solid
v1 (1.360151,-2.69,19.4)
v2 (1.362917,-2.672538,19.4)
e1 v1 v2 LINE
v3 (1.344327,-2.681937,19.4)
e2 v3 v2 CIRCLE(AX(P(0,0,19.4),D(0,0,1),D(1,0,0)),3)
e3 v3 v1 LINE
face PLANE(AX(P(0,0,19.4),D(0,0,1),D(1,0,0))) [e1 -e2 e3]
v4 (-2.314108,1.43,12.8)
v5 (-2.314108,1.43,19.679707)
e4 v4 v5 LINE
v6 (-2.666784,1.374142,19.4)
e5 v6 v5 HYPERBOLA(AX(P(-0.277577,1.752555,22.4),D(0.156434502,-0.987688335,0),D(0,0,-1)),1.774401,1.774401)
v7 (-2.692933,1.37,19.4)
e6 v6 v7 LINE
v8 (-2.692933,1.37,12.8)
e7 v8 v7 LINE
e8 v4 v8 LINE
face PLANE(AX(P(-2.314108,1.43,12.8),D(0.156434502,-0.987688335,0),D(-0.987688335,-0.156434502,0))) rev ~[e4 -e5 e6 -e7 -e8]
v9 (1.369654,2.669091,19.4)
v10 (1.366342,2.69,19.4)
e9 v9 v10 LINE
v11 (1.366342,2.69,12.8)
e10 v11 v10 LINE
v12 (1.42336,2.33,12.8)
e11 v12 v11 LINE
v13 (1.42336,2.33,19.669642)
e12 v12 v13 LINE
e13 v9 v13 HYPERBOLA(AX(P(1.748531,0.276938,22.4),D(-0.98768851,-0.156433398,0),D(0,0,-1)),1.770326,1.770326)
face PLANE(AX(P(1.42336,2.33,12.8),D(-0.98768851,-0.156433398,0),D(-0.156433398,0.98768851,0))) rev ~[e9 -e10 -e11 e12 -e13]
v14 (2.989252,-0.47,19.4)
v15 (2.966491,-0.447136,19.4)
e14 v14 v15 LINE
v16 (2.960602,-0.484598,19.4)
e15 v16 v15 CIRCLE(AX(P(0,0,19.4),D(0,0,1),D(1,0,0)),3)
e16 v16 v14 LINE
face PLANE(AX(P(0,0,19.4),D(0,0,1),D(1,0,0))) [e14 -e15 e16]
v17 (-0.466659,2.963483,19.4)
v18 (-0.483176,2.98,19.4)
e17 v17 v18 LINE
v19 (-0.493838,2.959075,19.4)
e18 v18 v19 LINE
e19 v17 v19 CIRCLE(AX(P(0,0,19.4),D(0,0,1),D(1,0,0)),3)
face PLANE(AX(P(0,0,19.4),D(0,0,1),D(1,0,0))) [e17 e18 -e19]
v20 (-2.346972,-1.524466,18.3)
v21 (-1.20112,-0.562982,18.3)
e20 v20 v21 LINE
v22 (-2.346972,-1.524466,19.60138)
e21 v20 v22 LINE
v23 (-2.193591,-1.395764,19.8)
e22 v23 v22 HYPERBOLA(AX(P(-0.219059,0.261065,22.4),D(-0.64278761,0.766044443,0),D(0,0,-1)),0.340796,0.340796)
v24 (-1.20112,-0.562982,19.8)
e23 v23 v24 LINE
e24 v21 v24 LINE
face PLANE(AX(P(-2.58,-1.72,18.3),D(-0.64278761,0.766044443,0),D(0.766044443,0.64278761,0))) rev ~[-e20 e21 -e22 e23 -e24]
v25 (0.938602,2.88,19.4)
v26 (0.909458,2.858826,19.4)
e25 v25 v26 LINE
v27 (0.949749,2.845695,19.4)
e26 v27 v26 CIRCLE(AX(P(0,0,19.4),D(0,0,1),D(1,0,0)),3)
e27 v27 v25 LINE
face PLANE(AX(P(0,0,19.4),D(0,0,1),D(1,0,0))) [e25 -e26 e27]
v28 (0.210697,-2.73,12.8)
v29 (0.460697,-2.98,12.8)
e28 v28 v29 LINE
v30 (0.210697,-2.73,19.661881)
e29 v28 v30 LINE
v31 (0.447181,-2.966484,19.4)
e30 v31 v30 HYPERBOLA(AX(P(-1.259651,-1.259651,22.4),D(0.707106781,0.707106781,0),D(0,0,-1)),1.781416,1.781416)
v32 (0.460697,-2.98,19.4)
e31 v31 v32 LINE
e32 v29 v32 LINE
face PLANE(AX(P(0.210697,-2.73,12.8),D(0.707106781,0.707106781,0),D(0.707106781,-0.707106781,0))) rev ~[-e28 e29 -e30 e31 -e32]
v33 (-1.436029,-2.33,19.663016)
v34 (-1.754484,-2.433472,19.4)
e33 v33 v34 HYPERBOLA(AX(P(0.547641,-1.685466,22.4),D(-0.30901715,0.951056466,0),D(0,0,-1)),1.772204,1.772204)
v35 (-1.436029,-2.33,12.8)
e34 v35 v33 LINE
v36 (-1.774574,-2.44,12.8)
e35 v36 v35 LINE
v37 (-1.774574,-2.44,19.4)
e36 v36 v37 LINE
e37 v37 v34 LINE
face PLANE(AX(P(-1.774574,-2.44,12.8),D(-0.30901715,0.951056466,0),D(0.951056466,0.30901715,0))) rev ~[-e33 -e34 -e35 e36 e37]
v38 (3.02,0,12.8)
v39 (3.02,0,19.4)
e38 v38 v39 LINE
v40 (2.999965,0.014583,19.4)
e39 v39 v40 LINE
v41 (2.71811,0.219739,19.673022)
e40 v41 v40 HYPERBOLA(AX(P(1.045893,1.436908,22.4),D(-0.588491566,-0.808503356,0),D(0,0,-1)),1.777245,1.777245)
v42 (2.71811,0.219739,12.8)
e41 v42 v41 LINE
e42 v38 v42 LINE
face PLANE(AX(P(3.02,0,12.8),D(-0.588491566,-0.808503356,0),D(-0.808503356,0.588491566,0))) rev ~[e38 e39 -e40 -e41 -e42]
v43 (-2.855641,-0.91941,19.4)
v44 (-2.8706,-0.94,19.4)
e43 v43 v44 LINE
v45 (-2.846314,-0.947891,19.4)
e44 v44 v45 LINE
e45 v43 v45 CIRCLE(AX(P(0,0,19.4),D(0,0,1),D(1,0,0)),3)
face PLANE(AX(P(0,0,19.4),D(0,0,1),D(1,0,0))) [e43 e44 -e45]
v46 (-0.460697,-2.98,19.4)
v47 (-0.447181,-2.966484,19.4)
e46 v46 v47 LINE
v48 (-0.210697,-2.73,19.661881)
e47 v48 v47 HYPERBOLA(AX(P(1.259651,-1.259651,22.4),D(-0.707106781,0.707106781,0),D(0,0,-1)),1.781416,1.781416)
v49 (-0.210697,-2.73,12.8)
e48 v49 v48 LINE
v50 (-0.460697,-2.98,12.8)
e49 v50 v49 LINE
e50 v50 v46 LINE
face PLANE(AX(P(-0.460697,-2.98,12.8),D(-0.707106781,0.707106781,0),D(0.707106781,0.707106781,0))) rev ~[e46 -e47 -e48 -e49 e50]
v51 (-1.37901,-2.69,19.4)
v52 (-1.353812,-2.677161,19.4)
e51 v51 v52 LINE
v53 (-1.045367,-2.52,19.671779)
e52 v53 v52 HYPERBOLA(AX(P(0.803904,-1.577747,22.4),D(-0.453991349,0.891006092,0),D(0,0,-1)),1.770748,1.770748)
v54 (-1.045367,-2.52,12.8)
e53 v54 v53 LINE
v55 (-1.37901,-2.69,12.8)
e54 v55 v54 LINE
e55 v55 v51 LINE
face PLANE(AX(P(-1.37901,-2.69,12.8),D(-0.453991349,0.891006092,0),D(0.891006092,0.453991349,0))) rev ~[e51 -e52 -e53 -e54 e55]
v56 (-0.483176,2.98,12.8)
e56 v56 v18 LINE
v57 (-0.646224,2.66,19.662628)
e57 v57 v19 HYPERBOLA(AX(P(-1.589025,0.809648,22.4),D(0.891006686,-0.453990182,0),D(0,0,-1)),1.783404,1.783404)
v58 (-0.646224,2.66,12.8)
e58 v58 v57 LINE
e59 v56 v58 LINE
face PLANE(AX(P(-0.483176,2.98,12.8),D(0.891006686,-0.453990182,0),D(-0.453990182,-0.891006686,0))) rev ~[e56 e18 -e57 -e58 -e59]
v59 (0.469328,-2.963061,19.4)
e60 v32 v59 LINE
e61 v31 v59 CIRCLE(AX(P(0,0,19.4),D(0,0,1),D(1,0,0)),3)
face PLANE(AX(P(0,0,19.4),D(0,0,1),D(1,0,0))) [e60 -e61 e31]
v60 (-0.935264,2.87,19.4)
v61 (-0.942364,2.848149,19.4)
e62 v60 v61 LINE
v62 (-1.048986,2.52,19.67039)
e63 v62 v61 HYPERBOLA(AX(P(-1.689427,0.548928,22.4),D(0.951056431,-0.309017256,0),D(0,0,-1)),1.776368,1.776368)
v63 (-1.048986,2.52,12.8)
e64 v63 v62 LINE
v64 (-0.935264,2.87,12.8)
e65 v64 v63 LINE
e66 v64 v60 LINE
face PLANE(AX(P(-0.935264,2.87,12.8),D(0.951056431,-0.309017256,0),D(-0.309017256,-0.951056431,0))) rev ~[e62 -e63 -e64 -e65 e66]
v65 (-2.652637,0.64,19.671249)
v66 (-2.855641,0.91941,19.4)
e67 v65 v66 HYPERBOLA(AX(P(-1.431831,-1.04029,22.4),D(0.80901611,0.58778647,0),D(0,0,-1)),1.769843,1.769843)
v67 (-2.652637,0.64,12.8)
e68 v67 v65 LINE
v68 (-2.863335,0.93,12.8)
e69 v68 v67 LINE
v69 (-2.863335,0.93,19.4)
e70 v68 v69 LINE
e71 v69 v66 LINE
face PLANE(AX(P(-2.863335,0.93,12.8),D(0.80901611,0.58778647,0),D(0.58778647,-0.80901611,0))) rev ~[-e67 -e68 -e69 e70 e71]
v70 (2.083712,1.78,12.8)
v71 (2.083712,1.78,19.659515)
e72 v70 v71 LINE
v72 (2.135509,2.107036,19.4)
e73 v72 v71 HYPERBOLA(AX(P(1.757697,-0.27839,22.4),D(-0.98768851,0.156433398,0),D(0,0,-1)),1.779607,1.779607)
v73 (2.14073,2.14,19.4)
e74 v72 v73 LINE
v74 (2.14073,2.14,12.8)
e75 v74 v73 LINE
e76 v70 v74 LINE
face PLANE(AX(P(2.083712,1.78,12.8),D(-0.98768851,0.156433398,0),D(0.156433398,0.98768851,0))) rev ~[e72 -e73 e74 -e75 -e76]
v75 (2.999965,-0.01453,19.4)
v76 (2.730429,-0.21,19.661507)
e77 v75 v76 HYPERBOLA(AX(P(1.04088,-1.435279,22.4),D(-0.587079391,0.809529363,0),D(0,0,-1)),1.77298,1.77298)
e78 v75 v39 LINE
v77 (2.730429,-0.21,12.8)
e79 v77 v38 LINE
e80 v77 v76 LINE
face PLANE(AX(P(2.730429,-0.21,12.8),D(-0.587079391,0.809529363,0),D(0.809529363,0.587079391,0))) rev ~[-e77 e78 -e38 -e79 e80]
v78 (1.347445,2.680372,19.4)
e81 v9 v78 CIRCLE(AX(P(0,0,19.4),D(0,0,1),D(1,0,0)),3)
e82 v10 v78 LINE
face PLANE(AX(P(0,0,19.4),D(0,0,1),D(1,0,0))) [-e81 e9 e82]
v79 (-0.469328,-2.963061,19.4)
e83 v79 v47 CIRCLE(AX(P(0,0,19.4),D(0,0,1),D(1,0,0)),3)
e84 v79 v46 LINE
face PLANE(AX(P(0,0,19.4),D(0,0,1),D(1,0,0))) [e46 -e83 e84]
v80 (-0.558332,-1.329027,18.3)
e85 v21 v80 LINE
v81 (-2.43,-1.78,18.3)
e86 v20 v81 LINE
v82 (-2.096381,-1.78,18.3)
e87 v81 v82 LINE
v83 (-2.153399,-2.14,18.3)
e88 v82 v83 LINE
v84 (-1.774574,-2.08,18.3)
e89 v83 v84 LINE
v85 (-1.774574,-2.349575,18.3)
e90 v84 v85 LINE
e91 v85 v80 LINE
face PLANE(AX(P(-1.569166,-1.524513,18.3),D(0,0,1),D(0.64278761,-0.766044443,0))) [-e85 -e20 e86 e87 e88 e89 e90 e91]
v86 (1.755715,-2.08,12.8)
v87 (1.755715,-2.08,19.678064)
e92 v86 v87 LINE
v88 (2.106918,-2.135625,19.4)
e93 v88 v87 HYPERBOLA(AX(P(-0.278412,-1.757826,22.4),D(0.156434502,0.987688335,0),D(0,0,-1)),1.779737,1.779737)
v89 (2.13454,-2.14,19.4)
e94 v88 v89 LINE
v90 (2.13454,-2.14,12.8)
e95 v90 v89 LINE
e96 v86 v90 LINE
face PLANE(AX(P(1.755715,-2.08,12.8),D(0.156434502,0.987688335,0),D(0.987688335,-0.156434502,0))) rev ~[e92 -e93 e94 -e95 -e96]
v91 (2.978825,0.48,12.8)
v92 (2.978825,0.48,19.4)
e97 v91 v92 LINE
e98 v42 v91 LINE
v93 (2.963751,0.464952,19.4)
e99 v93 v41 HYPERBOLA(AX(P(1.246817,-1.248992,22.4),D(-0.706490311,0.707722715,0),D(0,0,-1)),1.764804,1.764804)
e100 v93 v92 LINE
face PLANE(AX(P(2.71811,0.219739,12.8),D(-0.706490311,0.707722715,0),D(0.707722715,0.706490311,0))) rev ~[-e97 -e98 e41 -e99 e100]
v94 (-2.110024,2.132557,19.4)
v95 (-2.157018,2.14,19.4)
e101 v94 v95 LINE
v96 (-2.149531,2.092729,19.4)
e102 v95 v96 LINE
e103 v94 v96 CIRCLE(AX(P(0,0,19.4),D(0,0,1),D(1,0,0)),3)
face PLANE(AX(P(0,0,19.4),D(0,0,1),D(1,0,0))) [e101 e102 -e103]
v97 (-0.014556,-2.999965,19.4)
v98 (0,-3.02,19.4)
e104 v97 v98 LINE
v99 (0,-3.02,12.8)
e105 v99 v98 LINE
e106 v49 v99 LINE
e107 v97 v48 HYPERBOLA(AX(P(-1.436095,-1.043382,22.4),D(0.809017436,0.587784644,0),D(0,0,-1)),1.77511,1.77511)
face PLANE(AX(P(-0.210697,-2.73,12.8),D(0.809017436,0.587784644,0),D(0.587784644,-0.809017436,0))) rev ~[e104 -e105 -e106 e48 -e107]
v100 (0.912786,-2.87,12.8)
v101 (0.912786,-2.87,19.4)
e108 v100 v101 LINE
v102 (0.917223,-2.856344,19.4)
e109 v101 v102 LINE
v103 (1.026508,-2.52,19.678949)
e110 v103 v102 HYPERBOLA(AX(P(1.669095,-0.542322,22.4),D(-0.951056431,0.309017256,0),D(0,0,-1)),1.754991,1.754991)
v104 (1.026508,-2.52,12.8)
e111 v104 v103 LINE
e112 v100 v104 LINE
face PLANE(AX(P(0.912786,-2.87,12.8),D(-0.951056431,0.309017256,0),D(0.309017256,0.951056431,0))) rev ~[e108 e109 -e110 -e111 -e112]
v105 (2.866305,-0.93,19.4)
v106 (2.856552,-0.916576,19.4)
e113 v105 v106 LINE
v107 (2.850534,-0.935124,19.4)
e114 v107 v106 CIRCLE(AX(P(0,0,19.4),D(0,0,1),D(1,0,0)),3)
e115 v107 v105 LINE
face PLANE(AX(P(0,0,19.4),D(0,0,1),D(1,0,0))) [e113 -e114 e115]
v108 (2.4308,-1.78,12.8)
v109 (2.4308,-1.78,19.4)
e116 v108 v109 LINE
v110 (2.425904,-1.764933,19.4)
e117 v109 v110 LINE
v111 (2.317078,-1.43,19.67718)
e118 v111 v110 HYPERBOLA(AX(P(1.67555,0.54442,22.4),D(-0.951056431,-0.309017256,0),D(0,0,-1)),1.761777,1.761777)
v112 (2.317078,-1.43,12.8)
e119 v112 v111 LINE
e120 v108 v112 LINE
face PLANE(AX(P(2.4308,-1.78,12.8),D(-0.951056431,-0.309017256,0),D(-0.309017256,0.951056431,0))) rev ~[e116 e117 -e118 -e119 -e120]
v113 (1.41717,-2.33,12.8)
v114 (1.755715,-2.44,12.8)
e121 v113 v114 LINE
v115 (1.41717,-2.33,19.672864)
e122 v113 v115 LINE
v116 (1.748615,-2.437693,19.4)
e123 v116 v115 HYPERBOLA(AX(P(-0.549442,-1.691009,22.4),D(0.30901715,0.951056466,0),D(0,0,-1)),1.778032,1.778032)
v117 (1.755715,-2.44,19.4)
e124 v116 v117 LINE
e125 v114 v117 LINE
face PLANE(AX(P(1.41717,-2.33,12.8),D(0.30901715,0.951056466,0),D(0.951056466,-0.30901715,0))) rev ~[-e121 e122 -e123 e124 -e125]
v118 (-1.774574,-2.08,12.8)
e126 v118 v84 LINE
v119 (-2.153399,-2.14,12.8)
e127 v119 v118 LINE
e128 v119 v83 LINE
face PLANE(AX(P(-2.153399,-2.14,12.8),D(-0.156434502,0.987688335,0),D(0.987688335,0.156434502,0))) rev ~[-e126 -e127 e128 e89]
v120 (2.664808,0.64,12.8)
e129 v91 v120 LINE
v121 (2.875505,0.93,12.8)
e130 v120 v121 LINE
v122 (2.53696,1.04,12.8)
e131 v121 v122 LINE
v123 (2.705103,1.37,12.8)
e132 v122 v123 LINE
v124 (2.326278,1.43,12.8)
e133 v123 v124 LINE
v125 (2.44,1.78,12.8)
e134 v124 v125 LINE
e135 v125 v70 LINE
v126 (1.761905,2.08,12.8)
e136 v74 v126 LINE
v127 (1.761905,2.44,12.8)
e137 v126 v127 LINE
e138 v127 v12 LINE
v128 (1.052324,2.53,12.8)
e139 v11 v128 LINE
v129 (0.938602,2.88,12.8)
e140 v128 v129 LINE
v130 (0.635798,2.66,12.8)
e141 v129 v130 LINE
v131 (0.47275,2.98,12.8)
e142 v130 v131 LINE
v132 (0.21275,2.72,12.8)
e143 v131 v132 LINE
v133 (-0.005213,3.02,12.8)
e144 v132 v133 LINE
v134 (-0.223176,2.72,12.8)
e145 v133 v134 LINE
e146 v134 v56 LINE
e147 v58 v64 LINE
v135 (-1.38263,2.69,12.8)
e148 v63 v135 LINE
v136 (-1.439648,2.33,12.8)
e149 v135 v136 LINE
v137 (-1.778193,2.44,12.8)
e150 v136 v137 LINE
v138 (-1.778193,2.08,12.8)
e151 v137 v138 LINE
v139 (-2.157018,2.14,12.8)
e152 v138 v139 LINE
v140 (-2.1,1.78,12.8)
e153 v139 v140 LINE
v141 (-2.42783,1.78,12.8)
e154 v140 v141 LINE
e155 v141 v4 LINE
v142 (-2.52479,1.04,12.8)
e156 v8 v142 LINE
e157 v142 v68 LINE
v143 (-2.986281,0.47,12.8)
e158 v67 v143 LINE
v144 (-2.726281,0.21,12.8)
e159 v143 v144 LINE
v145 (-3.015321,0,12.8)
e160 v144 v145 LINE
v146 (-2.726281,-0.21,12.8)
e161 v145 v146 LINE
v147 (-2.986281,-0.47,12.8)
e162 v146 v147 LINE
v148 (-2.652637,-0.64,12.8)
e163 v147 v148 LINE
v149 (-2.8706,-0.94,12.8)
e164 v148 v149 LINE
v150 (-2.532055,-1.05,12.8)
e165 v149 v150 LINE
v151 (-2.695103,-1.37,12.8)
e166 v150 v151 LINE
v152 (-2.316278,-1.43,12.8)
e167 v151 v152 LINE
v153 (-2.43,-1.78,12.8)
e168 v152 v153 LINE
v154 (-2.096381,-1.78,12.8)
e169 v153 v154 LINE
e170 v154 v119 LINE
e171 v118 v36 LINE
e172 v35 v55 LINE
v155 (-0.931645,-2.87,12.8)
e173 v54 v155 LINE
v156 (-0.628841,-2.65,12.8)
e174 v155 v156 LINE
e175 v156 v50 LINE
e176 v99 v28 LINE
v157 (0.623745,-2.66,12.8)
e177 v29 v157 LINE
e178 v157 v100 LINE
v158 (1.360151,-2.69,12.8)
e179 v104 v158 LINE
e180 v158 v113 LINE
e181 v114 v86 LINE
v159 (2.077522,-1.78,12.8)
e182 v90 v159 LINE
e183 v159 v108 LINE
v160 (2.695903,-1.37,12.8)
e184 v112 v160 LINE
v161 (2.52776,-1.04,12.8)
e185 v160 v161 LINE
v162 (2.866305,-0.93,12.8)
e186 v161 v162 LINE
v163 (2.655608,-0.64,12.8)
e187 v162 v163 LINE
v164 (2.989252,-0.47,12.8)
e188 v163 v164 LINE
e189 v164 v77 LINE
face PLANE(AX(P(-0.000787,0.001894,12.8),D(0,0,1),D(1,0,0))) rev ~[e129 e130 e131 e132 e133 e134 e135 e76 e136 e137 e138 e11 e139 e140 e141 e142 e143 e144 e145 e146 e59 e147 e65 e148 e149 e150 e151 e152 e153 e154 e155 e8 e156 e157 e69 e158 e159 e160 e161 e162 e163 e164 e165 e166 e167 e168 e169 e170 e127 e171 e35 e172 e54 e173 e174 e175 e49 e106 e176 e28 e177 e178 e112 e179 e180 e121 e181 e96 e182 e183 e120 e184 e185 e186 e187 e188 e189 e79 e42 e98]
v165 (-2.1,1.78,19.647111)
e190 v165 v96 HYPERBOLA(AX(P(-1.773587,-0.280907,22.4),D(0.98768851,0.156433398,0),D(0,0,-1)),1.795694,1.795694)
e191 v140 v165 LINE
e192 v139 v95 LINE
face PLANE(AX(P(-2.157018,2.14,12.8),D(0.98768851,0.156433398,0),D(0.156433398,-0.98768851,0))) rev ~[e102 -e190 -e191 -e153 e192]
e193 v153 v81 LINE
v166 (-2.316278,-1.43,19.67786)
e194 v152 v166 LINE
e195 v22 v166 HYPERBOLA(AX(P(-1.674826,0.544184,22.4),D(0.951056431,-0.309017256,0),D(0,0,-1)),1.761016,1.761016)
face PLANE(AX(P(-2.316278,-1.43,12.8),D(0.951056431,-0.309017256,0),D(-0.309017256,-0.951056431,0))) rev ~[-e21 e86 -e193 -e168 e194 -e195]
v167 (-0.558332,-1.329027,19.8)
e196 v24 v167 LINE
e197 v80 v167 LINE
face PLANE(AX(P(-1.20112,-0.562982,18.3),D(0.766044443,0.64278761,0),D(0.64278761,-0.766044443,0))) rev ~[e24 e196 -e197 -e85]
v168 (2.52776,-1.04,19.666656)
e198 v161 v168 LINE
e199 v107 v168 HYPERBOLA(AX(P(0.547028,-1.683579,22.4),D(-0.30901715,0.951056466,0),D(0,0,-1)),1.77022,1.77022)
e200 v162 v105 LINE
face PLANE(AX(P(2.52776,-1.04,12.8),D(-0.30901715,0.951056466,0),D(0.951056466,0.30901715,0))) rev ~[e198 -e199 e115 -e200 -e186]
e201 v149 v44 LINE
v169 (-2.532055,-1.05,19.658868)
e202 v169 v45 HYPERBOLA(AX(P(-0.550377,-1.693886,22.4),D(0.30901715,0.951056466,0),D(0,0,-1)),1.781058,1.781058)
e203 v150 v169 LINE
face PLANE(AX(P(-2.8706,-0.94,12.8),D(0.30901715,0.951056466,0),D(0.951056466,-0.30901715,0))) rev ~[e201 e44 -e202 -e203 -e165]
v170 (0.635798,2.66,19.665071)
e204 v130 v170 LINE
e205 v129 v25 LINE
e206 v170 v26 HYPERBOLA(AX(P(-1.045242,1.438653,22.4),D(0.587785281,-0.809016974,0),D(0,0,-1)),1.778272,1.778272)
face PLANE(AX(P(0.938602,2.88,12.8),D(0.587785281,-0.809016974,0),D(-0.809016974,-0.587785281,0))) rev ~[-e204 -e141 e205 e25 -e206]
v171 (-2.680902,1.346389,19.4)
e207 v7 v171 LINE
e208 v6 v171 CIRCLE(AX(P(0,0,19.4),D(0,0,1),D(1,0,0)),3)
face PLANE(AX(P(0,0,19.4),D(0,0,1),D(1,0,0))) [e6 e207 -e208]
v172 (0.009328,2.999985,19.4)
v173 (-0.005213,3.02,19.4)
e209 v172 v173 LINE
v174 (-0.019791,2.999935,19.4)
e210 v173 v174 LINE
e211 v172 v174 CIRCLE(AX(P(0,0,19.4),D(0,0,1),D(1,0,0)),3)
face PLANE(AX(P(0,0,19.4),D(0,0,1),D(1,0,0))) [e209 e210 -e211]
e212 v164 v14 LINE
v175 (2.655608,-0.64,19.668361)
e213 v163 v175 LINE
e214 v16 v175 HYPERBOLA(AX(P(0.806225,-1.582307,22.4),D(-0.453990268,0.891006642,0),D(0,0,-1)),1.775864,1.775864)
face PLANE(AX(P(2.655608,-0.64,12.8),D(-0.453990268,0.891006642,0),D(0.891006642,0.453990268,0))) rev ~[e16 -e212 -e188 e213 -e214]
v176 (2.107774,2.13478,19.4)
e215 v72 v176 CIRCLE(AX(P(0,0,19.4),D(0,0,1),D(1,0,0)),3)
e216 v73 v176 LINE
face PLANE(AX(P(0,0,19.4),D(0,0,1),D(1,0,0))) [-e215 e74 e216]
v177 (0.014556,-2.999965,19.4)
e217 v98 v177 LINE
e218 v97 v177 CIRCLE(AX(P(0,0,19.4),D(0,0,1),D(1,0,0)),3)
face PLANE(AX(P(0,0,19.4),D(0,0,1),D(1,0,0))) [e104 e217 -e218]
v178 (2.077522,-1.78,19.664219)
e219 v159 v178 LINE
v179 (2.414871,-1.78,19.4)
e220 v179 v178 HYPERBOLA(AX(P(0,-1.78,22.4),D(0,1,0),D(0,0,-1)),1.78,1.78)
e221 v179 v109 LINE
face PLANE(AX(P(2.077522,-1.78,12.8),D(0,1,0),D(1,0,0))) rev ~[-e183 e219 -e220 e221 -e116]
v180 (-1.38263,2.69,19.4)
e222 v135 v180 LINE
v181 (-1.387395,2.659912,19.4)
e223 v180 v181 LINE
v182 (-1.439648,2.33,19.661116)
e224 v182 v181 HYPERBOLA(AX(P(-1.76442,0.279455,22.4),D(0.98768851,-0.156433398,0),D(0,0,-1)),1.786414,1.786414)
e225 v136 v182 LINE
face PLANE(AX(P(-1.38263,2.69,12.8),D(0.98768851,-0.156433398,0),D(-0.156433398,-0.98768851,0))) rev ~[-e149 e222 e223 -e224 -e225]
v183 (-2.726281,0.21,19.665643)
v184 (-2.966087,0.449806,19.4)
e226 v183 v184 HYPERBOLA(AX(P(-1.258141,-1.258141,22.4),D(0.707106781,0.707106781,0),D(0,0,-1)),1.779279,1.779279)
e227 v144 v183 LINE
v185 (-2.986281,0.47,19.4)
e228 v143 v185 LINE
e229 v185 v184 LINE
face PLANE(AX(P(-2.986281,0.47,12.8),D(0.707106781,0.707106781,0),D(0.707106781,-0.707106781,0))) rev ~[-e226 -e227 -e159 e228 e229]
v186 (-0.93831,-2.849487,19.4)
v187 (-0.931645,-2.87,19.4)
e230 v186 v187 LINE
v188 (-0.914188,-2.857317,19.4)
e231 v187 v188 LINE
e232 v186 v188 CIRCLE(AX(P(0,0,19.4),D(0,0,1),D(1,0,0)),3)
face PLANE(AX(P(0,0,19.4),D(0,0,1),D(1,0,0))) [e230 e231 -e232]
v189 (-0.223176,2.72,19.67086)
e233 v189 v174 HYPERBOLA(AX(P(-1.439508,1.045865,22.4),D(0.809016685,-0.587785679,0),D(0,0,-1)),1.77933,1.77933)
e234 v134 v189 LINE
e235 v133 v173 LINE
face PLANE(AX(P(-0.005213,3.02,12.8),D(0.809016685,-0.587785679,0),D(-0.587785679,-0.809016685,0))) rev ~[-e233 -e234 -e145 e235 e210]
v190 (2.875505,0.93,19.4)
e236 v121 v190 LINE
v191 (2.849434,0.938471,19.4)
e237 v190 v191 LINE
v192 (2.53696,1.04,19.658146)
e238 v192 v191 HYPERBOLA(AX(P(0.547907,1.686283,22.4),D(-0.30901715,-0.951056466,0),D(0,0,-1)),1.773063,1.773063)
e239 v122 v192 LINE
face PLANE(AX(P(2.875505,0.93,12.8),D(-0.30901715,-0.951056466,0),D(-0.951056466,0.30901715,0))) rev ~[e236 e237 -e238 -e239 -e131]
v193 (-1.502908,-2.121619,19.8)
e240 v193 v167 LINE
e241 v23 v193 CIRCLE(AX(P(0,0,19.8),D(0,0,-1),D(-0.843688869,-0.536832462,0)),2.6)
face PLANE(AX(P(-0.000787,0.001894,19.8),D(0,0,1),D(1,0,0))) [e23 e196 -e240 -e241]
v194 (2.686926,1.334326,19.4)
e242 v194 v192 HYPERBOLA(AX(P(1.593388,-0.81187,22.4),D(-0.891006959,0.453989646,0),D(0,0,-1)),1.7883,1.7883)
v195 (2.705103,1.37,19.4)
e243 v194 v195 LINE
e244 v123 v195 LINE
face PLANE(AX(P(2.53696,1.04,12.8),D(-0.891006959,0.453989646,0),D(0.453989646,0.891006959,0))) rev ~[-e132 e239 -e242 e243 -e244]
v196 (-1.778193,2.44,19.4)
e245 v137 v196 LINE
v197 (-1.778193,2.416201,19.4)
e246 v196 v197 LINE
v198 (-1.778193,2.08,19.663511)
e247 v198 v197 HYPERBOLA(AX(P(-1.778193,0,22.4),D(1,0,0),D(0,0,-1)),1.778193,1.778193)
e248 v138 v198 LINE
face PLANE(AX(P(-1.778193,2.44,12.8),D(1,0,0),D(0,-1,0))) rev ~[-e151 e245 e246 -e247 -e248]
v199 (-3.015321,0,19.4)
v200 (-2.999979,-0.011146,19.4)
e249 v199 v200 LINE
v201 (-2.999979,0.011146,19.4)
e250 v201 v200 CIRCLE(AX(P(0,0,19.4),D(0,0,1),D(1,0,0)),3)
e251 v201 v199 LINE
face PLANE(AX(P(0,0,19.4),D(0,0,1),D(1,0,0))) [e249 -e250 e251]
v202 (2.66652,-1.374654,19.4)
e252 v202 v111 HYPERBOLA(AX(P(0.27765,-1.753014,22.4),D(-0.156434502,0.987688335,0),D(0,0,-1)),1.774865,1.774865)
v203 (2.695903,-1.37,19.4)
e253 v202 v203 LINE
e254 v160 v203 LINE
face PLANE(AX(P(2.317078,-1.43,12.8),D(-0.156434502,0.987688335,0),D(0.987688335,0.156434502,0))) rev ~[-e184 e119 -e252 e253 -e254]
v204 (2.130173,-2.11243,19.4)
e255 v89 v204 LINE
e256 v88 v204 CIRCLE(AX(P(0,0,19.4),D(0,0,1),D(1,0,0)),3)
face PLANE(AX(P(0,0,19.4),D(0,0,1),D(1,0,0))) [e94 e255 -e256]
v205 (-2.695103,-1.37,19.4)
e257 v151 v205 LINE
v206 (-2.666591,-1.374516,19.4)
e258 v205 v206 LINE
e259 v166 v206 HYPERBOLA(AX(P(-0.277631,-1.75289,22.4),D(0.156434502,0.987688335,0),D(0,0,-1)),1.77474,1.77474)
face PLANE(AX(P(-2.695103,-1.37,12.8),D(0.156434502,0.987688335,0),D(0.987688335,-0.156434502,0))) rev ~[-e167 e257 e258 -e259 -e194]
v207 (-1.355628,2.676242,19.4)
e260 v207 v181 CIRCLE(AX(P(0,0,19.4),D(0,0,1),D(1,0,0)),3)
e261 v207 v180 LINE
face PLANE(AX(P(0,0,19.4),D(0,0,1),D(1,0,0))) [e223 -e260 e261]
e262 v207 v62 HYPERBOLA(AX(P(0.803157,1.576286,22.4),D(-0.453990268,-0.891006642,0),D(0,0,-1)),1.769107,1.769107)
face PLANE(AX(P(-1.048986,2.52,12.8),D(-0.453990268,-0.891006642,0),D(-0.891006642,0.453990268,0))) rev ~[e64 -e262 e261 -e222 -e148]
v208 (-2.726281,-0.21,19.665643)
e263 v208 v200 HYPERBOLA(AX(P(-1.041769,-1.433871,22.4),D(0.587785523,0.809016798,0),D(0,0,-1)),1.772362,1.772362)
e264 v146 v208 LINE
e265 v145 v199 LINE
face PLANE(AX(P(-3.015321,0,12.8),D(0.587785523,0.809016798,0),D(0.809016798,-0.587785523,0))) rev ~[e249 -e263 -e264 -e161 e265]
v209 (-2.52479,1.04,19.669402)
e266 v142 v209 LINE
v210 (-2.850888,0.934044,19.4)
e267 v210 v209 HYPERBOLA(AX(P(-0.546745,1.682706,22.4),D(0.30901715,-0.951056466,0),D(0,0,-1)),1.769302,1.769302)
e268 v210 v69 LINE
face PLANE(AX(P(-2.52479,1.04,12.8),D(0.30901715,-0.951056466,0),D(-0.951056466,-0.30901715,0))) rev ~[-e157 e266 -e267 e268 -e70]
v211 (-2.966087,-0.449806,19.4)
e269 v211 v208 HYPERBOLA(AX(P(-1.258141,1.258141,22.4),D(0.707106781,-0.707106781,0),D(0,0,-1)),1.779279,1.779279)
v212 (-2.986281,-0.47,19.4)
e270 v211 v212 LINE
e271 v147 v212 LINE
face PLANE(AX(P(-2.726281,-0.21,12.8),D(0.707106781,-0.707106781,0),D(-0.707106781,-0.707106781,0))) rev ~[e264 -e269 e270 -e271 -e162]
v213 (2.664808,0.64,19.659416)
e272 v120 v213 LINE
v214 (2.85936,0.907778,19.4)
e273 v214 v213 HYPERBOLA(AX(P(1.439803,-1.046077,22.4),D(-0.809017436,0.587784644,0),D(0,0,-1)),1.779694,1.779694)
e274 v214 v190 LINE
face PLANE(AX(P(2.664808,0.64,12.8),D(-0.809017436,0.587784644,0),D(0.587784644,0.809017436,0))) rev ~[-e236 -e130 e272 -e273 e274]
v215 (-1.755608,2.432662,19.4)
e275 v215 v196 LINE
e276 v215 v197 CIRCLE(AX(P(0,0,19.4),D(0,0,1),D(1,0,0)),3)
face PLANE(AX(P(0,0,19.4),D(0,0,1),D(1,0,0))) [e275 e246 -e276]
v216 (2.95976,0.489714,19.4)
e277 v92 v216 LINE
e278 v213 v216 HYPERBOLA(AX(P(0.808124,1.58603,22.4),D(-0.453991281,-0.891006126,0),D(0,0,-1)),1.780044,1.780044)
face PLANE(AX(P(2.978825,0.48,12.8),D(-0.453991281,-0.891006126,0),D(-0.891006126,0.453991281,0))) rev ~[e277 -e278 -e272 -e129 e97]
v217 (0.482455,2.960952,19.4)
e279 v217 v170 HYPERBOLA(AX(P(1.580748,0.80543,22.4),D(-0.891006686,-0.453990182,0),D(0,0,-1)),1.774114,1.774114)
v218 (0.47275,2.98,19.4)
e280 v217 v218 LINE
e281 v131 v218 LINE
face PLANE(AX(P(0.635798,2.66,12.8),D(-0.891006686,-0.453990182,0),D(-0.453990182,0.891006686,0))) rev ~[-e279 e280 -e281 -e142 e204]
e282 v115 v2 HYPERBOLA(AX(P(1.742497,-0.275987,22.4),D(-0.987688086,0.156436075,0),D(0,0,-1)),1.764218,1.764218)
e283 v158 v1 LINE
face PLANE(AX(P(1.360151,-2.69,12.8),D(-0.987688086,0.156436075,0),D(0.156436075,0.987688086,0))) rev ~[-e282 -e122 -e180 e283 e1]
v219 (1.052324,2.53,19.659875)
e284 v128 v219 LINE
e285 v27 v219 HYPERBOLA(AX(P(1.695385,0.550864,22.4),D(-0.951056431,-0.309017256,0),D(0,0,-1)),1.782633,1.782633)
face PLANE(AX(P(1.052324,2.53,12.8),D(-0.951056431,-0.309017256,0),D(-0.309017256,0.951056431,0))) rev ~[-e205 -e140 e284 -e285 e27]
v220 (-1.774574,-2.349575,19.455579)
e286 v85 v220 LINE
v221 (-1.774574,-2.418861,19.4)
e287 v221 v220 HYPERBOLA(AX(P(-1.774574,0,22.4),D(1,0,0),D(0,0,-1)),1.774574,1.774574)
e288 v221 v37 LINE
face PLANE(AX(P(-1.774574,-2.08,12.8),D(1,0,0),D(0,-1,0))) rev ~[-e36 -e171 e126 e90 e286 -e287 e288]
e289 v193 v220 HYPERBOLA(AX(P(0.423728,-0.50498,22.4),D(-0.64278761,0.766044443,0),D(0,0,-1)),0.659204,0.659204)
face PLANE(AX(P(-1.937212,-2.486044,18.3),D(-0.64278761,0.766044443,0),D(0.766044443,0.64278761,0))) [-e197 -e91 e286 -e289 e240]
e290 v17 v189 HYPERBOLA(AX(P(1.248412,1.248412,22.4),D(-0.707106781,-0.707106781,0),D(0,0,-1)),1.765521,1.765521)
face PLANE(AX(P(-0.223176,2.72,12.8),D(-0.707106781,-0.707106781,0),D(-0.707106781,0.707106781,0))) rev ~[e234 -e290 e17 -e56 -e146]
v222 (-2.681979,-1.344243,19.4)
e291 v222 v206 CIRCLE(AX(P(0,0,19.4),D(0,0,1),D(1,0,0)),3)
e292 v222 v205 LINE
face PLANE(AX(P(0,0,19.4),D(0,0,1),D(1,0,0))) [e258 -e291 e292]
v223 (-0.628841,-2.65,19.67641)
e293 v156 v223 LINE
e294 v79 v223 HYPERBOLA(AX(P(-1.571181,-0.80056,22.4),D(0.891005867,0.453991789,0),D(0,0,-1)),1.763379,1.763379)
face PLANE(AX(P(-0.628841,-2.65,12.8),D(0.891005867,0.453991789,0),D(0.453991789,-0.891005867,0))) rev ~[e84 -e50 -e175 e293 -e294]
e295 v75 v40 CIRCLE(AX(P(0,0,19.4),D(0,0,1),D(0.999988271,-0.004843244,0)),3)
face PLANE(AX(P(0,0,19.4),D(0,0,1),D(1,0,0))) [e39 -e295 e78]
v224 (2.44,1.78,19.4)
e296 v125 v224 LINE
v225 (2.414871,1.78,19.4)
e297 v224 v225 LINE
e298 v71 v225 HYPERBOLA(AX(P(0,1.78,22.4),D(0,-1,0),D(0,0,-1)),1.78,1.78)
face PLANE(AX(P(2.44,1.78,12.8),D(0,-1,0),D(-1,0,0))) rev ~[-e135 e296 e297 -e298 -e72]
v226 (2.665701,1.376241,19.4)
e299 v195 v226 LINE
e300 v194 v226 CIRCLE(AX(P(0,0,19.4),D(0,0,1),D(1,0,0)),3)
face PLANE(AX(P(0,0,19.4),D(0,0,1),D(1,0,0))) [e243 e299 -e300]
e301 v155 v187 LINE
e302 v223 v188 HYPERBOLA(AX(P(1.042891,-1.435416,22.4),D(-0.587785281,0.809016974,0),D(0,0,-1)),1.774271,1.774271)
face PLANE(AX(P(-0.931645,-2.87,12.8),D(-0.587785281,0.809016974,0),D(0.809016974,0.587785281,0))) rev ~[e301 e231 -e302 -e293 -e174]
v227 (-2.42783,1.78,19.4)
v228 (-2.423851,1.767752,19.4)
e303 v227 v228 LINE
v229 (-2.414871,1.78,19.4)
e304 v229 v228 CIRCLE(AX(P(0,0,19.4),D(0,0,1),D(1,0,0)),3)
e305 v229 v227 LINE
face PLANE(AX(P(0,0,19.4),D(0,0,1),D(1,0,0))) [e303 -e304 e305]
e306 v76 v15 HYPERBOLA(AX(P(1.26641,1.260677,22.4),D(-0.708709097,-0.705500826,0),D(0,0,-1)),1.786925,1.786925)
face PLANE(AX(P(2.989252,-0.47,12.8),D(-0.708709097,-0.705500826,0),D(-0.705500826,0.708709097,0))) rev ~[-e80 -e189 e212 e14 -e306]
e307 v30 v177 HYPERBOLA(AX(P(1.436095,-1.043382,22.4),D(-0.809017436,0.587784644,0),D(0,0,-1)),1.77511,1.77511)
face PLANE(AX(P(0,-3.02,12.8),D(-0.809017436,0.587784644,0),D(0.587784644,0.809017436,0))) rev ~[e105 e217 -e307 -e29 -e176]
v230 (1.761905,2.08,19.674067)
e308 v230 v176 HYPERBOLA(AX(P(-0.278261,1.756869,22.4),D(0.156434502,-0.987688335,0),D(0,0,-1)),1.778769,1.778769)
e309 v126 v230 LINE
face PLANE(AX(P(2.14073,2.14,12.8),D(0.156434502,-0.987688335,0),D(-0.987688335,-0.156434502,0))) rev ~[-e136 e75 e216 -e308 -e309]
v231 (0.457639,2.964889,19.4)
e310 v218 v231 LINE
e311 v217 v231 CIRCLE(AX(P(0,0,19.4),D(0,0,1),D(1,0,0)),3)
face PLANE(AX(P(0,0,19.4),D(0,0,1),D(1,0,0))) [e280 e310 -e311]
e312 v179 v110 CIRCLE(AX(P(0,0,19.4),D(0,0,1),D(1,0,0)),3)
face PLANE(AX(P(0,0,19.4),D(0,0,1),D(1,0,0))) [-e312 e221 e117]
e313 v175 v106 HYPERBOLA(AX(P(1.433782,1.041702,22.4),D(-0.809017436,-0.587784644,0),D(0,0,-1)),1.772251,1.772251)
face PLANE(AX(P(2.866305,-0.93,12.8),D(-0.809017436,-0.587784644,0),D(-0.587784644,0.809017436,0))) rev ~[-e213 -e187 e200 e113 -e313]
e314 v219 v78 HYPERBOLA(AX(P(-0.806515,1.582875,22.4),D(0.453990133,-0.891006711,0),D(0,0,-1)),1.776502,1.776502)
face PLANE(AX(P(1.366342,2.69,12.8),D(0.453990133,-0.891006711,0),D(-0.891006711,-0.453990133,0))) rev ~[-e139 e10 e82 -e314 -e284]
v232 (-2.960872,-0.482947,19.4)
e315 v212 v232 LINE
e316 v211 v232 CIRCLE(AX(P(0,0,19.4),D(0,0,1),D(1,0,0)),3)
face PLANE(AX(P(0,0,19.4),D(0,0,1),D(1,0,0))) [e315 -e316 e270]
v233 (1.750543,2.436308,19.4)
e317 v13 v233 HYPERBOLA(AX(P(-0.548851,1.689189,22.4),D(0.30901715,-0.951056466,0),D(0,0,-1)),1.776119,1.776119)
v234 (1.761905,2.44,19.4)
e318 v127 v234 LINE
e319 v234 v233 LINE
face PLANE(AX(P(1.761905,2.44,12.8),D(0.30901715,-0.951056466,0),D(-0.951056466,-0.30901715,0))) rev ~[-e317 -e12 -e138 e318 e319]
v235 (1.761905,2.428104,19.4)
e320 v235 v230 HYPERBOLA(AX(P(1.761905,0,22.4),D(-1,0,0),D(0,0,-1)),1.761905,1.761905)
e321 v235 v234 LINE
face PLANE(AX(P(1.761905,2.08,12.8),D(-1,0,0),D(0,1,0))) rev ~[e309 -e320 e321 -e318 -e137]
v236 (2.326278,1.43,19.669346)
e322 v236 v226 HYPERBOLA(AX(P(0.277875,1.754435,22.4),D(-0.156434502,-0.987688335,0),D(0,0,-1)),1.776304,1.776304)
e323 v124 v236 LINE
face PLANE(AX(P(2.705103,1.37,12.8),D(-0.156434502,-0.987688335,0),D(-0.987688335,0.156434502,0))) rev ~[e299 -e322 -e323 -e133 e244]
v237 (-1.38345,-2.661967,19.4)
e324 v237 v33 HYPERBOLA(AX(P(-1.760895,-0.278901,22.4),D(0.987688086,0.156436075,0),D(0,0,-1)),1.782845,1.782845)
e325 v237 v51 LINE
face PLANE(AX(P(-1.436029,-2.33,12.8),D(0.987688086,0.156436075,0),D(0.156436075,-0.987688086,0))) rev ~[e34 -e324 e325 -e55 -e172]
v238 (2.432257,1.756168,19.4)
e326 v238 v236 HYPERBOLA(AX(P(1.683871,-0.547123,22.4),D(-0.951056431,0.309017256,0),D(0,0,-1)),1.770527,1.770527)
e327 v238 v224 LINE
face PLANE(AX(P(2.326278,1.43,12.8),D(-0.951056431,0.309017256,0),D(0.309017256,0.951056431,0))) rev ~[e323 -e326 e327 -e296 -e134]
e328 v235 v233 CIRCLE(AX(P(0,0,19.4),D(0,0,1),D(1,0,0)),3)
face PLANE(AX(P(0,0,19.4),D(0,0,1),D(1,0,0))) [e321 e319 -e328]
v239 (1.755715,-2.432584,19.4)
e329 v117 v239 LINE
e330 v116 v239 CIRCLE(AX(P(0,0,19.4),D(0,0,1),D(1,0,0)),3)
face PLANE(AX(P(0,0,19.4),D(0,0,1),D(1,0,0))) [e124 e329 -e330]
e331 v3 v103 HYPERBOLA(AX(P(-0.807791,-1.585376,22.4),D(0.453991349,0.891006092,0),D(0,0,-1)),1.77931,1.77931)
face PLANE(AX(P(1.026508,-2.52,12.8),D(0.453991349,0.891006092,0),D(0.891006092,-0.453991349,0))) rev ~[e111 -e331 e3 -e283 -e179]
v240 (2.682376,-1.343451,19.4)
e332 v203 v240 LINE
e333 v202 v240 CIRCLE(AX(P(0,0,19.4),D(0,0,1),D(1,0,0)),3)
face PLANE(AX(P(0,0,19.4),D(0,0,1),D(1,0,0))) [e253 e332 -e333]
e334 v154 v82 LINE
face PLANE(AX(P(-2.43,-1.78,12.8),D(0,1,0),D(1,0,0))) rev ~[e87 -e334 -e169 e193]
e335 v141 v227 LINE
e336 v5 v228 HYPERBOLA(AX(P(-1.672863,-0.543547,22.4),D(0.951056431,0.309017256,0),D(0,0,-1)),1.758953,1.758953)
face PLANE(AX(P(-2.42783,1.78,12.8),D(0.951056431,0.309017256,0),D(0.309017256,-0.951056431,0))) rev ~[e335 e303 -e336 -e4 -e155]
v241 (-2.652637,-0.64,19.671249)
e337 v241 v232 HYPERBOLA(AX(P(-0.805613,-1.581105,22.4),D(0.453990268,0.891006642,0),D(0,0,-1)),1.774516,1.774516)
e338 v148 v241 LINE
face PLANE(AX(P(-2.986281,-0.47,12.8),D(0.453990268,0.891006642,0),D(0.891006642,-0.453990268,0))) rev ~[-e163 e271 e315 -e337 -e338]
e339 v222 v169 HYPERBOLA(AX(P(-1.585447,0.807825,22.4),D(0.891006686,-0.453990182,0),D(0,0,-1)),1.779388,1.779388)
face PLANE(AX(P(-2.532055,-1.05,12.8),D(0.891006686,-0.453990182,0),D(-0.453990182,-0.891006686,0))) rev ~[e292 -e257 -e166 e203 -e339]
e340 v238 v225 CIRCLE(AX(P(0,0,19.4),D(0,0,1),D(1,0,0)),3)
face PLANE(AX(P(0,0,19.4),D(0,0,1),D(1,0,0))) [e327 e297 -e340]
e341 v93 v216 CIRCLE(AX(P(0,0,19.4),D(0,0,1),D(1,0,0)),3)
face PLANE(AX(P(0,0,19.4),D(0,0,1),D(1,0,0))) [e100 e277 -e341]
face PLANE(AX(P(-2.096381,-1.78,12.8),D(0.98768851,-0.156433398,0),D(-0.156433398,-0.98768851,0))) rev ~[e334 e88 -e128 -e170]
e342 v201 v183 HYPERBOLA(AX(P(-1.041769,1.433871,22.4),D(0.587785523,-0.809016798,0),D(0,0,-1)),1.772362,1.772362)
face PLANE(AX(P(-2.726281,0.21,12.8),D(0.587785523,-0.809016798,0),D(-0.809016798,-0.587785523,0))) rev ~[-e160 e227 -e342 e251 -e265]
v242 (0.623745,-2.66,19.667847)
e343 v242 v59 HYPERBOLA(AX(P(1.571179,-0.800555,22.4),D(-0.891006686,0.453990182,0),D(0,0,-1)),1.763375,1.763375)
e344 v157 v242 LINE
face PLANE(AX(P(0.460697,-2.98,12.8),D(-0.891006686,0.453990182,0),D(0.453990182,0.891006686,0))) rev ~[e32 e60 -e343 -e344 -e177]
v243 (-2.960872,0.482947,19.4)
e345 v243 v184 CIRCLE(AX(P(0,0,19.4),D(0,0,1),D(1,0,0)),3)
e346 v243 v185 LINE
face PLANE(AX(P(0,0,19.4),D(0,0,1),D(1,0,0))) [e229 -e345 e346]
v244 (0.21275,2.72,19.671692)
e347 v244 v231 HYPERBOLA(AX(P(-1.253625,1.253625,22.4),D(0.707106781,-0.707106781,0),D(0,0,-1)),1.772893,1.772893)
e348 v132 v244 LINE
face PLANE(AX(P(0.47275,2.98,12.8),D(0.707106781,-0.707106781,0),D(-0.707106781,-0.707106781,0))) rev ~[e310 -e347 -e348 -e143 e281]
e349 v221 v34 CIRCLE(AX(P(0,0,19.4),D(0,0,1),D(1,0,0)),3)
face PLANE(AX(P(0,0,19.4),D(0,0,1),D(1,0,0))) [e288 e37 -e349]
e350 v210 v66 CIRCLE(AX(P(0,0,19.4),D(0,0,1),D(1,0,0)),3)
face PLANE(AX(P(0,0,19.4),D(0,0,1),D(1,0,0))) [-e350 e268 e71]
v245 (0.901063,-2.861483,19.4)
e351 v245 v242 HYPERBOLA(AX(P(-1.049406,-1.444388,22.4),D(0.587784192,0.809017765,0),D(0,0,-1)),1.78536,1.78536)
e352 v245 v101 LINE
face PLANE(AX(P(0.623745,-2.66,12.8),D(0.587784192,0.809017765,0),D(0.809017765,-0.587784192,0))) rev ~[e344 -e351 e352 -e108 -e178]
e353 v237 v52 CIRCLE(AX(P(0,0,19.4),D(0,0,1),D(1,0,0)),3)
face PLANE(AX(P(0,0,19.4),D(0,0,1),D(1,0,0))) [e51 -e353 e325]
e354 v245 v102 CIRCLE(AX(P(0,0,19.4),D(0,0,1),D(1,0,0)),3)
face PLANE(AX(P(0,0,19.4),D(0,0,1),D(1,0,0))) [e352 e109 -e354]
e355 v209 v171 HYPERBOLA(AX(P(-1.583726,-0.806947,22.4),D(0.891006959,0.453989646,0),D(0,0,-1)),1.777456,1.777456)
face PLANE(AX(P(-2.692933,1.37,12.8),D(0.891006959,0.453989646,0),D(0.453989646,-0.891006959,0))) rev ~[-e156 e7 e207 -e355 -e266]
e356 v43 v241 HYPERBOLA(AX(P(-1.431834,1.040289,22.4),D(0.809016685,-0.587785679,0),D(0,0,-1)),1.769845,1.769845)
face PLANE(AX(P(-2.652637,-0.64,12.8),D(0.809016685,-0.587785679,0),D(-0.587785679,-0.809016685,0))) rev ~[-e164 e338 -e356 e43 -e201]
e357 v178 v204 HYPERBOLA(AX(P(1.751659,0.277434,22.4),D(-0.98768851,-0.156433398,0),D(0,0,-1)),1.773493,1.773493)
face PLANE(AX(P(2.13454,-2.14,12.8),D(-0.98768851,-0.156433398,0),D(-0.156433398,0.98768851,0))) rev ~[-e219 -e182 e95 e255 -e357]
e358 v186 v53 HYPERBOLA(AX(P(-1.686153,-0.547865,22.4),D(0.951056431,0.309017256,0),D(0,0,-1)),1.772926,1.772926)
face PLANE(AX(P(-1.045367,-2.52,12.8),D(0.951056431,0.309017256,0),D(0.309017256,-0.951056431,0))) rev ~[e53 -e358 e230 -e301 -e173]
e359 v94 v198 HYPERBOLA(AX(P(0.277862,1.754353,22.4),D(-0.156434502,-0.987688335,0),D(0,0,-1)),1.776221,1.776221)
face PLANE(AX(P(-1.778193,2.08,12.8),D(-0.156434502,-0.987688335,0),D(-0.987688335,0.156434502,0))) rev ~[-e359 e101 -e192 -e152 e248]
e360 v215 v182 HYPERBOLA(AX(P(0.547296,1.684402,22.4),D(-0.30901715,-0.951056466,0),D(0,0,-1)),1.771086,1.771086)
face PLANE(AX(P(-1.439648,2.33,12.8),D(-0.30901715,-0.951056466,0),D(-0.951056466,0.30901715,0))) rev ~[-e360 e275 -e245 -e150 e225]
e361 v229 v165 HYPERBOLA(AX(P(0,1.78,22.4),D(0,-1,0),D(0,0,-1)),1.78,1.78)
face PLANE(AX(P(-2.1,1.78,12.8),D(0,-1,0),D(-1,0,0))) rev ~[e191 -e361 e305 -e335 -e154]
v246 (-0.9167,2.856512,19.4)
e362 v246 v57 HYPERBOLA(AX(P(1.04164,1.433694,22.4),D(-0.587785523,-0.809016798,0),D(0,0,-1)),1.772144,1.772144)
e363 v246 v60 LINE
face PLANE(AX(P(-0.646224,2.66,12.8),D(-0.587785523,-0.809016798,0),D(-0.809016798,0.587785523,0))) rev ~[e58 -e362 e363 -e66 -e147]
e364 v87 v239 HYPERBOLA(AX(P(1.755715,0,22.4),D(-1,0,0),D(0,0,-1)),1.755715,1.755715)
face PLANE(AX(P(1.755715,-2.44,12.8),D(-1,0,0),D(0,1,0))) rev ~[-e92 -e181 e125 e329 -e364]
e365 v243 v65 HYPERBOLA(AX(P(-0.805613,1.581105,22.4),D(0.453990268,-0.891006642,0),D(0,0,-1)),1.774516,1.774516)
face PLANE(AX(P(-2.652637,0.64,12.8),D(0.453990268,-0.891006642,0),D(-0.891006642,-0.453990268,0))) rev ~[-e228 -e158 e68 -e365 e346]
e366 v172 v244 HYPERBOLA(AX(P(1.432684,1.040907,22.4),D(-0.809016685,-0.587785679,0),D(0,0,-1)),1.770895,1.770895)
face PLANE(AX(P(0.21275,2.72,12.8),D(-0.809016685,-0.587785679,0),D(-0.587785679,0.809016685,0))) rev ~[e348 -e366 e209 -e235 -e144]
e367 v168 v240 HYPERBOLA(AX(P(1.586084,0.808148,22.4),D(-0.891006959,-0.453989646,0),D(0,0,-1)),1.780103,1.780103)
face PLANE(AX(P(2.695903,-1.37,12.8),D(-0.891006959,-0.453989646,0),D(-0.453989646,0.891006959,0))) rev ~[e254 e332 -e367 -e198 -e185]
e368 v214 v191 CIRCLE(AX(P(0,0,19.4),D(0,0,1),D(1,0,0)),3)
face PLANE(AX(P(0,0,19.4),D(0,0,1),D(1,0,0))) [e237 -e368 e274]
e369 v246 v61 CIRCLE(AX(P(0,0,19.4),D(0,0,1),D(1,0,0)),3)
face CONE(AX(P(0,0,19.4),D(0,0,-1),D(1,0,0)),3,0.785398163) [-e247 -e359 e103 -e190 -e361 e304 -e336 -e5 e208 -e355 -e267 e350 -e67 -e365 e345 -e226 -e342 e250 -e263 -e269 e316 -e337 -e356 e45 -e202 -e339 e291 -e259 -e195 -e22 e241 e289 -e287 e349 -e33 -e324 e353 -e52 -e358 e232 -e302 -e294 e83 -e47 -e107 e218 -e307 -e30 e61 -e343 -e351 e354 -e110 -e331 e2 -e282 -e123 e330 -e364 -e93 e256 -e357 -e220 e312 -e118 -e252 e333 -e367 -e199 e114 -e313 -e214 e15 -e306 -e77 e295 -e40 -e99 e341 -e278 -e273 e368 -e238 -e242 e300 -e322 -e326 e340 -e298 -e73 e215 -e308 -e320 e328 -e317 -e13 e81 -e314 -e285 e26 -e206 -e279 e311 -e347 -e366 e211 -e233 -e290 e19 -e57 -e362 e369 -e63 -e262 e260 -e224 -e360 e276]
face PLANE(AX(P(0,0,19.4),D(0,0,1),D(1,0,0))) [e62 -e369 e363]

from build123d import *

# Parameters (mm, degrees)
CYLINDER_R          = 3.1
CYLINDER_DEPTH      = 0.4
BOX_W               = 1
BOX_H               = 1.8
BOX_DEPTH           = 1.5
BOX_PLACEMENT_ANGLE = 50
EXTRUDE_DEPTH       = 7


with BuildPart() as cone:
    # Cone → Cone (revolve)
    with BuildSketch(Plane(origin=(0, 0, 6.6), x_dir=(1, 0, 0), z_dir=(0, -1, 0))):
        Polygon((0, 0), (3, 0), (2.6, 0.4), (0, 0.4), align=None)
    revolve(axis=Axis((0, 0, 6.6), (0, 0, 1)))


with BuildPart() as cut001:
    # Cylinder → Cylinder (new body)
    with BuildSketch(Plane.XY.offset(6.6)):
        Circle(CYLINDER_R)
    extrude(amount=CYLINDER_DEPTH)

    # Cut001: cut Cone
    add(cone.part, mode=Mode.SUBTRACT)


with BuildPart() as cube:
    # Box → Box (new body)
    with BuildSketch(Plane.XY):
        with Locations((0.5, 0.9)):
            Rectangle(BOX_W, BOX_H)
    extrude(amount=BOX_DEPTH)


with BuildPart() as cube_1:
    # Box placement: moved
    add(cube.part.moved(Location((-2.58, -1.72, 5.5))).rotate(Axis((-2.58, -1.72, 5.5), (0, 0, -1)), BOX_PLACEMENT_ANGLE))


with BuildPart() as cut002:
    # Sketch → Extrude (new body)
    with BuildSketch(Plane.XY):
        Polygon((3.02, 0), (2.71811, 0.219739), (2.978825, 0.48), (2.664808, 0.64), (2.875505, 0.93), (2.53696, 1.04), (2.705103, 1.37), (2.326278, 1.43), (2.44, 1.78), (2.083712, 1.78), (2.14073, 2.14), (1.761905, 2.08), (1.761905, 2.44), (1.42336, 2.33), (1.366342, 2.69), (1.052324, 2.53), (0.938602, 2.88), (0.635798, 2.66), (0.47275, 2.98), (0.21275, 2.72), (-0.005213, 3.02), (-0.223176, 2.72), (-0.483176, 2.98), (-0.646224, 2.66), (-0.935264, 2.87), (-1.048986, 2.52), (-1.38263, 2.69), (-1.439648, 2.33), (-1.778193, 2.44), (-1.778193, 2.08), (-2.157018, 2.14), (-2.1, 1.78), (-2.42783, 1.78), (-2.314108, 1.43), (-2.692933, 1.37), (-2.52479, 1.04), (-2.863335, 0.93), (-2.652637, 0.64), (-2.986281, 0.47), (-2.726281, 0.21), (-3.015321, 0), (-2.726281, -0.21), (-2.986281, -0.47), (-2.652637, -0.64), (-2.8706, -0.94), (-2.532055, -1.05), (-2.695103, -1.37), (-2.316278, -1.43), (-2.43, -1.78), (-2.096381, -1.78), (-2.153399, -2.14), (-1.774574, -2.08), (-1.774574, -2.44), (-1.436029, -2.33), (-1.37901, -2.69), (-1.045367, -2.52), (-0.931645, -2.87), (-0.628841, -2.65), (-0.460697, -2.98), (-0.210697, -2.73), (0, -3.02), (0.210697, -2.73), (0.460697, -2.98), (0.623745, -2.66), (0.912786, -2.87), (1.026508, -2.52), (1.360151, -2.69), (1.41717, -2.33), (1.755715, -2.44), (1.755715, -2.08), (2.13454, -2.14), (2.077522, -1.78), (2.4308, -1.78), (2.317078, -1.43), (2.695903, -1.37), (2.52776, -1.04), (2.866305, -0.93), (2.655608, -0.64), (2.989252, -0.47), (2.730429, -0.21), align=None)
    extrude(amount=EXTRUDE_DEPTH)

    # Cut: cut Cube
    add(cube_1.part, mode=Mode.SUBTRACT)

    # Cut002: cut Cut001
    add(cut001.part, mode=Mode.SUBTRACT)


with BuildPart() as cut002_1:
    # Cut002 placement: moved
    add(cut002.part.moved(Location((0, 0, 12.8))))


solid = cut002_1.part
